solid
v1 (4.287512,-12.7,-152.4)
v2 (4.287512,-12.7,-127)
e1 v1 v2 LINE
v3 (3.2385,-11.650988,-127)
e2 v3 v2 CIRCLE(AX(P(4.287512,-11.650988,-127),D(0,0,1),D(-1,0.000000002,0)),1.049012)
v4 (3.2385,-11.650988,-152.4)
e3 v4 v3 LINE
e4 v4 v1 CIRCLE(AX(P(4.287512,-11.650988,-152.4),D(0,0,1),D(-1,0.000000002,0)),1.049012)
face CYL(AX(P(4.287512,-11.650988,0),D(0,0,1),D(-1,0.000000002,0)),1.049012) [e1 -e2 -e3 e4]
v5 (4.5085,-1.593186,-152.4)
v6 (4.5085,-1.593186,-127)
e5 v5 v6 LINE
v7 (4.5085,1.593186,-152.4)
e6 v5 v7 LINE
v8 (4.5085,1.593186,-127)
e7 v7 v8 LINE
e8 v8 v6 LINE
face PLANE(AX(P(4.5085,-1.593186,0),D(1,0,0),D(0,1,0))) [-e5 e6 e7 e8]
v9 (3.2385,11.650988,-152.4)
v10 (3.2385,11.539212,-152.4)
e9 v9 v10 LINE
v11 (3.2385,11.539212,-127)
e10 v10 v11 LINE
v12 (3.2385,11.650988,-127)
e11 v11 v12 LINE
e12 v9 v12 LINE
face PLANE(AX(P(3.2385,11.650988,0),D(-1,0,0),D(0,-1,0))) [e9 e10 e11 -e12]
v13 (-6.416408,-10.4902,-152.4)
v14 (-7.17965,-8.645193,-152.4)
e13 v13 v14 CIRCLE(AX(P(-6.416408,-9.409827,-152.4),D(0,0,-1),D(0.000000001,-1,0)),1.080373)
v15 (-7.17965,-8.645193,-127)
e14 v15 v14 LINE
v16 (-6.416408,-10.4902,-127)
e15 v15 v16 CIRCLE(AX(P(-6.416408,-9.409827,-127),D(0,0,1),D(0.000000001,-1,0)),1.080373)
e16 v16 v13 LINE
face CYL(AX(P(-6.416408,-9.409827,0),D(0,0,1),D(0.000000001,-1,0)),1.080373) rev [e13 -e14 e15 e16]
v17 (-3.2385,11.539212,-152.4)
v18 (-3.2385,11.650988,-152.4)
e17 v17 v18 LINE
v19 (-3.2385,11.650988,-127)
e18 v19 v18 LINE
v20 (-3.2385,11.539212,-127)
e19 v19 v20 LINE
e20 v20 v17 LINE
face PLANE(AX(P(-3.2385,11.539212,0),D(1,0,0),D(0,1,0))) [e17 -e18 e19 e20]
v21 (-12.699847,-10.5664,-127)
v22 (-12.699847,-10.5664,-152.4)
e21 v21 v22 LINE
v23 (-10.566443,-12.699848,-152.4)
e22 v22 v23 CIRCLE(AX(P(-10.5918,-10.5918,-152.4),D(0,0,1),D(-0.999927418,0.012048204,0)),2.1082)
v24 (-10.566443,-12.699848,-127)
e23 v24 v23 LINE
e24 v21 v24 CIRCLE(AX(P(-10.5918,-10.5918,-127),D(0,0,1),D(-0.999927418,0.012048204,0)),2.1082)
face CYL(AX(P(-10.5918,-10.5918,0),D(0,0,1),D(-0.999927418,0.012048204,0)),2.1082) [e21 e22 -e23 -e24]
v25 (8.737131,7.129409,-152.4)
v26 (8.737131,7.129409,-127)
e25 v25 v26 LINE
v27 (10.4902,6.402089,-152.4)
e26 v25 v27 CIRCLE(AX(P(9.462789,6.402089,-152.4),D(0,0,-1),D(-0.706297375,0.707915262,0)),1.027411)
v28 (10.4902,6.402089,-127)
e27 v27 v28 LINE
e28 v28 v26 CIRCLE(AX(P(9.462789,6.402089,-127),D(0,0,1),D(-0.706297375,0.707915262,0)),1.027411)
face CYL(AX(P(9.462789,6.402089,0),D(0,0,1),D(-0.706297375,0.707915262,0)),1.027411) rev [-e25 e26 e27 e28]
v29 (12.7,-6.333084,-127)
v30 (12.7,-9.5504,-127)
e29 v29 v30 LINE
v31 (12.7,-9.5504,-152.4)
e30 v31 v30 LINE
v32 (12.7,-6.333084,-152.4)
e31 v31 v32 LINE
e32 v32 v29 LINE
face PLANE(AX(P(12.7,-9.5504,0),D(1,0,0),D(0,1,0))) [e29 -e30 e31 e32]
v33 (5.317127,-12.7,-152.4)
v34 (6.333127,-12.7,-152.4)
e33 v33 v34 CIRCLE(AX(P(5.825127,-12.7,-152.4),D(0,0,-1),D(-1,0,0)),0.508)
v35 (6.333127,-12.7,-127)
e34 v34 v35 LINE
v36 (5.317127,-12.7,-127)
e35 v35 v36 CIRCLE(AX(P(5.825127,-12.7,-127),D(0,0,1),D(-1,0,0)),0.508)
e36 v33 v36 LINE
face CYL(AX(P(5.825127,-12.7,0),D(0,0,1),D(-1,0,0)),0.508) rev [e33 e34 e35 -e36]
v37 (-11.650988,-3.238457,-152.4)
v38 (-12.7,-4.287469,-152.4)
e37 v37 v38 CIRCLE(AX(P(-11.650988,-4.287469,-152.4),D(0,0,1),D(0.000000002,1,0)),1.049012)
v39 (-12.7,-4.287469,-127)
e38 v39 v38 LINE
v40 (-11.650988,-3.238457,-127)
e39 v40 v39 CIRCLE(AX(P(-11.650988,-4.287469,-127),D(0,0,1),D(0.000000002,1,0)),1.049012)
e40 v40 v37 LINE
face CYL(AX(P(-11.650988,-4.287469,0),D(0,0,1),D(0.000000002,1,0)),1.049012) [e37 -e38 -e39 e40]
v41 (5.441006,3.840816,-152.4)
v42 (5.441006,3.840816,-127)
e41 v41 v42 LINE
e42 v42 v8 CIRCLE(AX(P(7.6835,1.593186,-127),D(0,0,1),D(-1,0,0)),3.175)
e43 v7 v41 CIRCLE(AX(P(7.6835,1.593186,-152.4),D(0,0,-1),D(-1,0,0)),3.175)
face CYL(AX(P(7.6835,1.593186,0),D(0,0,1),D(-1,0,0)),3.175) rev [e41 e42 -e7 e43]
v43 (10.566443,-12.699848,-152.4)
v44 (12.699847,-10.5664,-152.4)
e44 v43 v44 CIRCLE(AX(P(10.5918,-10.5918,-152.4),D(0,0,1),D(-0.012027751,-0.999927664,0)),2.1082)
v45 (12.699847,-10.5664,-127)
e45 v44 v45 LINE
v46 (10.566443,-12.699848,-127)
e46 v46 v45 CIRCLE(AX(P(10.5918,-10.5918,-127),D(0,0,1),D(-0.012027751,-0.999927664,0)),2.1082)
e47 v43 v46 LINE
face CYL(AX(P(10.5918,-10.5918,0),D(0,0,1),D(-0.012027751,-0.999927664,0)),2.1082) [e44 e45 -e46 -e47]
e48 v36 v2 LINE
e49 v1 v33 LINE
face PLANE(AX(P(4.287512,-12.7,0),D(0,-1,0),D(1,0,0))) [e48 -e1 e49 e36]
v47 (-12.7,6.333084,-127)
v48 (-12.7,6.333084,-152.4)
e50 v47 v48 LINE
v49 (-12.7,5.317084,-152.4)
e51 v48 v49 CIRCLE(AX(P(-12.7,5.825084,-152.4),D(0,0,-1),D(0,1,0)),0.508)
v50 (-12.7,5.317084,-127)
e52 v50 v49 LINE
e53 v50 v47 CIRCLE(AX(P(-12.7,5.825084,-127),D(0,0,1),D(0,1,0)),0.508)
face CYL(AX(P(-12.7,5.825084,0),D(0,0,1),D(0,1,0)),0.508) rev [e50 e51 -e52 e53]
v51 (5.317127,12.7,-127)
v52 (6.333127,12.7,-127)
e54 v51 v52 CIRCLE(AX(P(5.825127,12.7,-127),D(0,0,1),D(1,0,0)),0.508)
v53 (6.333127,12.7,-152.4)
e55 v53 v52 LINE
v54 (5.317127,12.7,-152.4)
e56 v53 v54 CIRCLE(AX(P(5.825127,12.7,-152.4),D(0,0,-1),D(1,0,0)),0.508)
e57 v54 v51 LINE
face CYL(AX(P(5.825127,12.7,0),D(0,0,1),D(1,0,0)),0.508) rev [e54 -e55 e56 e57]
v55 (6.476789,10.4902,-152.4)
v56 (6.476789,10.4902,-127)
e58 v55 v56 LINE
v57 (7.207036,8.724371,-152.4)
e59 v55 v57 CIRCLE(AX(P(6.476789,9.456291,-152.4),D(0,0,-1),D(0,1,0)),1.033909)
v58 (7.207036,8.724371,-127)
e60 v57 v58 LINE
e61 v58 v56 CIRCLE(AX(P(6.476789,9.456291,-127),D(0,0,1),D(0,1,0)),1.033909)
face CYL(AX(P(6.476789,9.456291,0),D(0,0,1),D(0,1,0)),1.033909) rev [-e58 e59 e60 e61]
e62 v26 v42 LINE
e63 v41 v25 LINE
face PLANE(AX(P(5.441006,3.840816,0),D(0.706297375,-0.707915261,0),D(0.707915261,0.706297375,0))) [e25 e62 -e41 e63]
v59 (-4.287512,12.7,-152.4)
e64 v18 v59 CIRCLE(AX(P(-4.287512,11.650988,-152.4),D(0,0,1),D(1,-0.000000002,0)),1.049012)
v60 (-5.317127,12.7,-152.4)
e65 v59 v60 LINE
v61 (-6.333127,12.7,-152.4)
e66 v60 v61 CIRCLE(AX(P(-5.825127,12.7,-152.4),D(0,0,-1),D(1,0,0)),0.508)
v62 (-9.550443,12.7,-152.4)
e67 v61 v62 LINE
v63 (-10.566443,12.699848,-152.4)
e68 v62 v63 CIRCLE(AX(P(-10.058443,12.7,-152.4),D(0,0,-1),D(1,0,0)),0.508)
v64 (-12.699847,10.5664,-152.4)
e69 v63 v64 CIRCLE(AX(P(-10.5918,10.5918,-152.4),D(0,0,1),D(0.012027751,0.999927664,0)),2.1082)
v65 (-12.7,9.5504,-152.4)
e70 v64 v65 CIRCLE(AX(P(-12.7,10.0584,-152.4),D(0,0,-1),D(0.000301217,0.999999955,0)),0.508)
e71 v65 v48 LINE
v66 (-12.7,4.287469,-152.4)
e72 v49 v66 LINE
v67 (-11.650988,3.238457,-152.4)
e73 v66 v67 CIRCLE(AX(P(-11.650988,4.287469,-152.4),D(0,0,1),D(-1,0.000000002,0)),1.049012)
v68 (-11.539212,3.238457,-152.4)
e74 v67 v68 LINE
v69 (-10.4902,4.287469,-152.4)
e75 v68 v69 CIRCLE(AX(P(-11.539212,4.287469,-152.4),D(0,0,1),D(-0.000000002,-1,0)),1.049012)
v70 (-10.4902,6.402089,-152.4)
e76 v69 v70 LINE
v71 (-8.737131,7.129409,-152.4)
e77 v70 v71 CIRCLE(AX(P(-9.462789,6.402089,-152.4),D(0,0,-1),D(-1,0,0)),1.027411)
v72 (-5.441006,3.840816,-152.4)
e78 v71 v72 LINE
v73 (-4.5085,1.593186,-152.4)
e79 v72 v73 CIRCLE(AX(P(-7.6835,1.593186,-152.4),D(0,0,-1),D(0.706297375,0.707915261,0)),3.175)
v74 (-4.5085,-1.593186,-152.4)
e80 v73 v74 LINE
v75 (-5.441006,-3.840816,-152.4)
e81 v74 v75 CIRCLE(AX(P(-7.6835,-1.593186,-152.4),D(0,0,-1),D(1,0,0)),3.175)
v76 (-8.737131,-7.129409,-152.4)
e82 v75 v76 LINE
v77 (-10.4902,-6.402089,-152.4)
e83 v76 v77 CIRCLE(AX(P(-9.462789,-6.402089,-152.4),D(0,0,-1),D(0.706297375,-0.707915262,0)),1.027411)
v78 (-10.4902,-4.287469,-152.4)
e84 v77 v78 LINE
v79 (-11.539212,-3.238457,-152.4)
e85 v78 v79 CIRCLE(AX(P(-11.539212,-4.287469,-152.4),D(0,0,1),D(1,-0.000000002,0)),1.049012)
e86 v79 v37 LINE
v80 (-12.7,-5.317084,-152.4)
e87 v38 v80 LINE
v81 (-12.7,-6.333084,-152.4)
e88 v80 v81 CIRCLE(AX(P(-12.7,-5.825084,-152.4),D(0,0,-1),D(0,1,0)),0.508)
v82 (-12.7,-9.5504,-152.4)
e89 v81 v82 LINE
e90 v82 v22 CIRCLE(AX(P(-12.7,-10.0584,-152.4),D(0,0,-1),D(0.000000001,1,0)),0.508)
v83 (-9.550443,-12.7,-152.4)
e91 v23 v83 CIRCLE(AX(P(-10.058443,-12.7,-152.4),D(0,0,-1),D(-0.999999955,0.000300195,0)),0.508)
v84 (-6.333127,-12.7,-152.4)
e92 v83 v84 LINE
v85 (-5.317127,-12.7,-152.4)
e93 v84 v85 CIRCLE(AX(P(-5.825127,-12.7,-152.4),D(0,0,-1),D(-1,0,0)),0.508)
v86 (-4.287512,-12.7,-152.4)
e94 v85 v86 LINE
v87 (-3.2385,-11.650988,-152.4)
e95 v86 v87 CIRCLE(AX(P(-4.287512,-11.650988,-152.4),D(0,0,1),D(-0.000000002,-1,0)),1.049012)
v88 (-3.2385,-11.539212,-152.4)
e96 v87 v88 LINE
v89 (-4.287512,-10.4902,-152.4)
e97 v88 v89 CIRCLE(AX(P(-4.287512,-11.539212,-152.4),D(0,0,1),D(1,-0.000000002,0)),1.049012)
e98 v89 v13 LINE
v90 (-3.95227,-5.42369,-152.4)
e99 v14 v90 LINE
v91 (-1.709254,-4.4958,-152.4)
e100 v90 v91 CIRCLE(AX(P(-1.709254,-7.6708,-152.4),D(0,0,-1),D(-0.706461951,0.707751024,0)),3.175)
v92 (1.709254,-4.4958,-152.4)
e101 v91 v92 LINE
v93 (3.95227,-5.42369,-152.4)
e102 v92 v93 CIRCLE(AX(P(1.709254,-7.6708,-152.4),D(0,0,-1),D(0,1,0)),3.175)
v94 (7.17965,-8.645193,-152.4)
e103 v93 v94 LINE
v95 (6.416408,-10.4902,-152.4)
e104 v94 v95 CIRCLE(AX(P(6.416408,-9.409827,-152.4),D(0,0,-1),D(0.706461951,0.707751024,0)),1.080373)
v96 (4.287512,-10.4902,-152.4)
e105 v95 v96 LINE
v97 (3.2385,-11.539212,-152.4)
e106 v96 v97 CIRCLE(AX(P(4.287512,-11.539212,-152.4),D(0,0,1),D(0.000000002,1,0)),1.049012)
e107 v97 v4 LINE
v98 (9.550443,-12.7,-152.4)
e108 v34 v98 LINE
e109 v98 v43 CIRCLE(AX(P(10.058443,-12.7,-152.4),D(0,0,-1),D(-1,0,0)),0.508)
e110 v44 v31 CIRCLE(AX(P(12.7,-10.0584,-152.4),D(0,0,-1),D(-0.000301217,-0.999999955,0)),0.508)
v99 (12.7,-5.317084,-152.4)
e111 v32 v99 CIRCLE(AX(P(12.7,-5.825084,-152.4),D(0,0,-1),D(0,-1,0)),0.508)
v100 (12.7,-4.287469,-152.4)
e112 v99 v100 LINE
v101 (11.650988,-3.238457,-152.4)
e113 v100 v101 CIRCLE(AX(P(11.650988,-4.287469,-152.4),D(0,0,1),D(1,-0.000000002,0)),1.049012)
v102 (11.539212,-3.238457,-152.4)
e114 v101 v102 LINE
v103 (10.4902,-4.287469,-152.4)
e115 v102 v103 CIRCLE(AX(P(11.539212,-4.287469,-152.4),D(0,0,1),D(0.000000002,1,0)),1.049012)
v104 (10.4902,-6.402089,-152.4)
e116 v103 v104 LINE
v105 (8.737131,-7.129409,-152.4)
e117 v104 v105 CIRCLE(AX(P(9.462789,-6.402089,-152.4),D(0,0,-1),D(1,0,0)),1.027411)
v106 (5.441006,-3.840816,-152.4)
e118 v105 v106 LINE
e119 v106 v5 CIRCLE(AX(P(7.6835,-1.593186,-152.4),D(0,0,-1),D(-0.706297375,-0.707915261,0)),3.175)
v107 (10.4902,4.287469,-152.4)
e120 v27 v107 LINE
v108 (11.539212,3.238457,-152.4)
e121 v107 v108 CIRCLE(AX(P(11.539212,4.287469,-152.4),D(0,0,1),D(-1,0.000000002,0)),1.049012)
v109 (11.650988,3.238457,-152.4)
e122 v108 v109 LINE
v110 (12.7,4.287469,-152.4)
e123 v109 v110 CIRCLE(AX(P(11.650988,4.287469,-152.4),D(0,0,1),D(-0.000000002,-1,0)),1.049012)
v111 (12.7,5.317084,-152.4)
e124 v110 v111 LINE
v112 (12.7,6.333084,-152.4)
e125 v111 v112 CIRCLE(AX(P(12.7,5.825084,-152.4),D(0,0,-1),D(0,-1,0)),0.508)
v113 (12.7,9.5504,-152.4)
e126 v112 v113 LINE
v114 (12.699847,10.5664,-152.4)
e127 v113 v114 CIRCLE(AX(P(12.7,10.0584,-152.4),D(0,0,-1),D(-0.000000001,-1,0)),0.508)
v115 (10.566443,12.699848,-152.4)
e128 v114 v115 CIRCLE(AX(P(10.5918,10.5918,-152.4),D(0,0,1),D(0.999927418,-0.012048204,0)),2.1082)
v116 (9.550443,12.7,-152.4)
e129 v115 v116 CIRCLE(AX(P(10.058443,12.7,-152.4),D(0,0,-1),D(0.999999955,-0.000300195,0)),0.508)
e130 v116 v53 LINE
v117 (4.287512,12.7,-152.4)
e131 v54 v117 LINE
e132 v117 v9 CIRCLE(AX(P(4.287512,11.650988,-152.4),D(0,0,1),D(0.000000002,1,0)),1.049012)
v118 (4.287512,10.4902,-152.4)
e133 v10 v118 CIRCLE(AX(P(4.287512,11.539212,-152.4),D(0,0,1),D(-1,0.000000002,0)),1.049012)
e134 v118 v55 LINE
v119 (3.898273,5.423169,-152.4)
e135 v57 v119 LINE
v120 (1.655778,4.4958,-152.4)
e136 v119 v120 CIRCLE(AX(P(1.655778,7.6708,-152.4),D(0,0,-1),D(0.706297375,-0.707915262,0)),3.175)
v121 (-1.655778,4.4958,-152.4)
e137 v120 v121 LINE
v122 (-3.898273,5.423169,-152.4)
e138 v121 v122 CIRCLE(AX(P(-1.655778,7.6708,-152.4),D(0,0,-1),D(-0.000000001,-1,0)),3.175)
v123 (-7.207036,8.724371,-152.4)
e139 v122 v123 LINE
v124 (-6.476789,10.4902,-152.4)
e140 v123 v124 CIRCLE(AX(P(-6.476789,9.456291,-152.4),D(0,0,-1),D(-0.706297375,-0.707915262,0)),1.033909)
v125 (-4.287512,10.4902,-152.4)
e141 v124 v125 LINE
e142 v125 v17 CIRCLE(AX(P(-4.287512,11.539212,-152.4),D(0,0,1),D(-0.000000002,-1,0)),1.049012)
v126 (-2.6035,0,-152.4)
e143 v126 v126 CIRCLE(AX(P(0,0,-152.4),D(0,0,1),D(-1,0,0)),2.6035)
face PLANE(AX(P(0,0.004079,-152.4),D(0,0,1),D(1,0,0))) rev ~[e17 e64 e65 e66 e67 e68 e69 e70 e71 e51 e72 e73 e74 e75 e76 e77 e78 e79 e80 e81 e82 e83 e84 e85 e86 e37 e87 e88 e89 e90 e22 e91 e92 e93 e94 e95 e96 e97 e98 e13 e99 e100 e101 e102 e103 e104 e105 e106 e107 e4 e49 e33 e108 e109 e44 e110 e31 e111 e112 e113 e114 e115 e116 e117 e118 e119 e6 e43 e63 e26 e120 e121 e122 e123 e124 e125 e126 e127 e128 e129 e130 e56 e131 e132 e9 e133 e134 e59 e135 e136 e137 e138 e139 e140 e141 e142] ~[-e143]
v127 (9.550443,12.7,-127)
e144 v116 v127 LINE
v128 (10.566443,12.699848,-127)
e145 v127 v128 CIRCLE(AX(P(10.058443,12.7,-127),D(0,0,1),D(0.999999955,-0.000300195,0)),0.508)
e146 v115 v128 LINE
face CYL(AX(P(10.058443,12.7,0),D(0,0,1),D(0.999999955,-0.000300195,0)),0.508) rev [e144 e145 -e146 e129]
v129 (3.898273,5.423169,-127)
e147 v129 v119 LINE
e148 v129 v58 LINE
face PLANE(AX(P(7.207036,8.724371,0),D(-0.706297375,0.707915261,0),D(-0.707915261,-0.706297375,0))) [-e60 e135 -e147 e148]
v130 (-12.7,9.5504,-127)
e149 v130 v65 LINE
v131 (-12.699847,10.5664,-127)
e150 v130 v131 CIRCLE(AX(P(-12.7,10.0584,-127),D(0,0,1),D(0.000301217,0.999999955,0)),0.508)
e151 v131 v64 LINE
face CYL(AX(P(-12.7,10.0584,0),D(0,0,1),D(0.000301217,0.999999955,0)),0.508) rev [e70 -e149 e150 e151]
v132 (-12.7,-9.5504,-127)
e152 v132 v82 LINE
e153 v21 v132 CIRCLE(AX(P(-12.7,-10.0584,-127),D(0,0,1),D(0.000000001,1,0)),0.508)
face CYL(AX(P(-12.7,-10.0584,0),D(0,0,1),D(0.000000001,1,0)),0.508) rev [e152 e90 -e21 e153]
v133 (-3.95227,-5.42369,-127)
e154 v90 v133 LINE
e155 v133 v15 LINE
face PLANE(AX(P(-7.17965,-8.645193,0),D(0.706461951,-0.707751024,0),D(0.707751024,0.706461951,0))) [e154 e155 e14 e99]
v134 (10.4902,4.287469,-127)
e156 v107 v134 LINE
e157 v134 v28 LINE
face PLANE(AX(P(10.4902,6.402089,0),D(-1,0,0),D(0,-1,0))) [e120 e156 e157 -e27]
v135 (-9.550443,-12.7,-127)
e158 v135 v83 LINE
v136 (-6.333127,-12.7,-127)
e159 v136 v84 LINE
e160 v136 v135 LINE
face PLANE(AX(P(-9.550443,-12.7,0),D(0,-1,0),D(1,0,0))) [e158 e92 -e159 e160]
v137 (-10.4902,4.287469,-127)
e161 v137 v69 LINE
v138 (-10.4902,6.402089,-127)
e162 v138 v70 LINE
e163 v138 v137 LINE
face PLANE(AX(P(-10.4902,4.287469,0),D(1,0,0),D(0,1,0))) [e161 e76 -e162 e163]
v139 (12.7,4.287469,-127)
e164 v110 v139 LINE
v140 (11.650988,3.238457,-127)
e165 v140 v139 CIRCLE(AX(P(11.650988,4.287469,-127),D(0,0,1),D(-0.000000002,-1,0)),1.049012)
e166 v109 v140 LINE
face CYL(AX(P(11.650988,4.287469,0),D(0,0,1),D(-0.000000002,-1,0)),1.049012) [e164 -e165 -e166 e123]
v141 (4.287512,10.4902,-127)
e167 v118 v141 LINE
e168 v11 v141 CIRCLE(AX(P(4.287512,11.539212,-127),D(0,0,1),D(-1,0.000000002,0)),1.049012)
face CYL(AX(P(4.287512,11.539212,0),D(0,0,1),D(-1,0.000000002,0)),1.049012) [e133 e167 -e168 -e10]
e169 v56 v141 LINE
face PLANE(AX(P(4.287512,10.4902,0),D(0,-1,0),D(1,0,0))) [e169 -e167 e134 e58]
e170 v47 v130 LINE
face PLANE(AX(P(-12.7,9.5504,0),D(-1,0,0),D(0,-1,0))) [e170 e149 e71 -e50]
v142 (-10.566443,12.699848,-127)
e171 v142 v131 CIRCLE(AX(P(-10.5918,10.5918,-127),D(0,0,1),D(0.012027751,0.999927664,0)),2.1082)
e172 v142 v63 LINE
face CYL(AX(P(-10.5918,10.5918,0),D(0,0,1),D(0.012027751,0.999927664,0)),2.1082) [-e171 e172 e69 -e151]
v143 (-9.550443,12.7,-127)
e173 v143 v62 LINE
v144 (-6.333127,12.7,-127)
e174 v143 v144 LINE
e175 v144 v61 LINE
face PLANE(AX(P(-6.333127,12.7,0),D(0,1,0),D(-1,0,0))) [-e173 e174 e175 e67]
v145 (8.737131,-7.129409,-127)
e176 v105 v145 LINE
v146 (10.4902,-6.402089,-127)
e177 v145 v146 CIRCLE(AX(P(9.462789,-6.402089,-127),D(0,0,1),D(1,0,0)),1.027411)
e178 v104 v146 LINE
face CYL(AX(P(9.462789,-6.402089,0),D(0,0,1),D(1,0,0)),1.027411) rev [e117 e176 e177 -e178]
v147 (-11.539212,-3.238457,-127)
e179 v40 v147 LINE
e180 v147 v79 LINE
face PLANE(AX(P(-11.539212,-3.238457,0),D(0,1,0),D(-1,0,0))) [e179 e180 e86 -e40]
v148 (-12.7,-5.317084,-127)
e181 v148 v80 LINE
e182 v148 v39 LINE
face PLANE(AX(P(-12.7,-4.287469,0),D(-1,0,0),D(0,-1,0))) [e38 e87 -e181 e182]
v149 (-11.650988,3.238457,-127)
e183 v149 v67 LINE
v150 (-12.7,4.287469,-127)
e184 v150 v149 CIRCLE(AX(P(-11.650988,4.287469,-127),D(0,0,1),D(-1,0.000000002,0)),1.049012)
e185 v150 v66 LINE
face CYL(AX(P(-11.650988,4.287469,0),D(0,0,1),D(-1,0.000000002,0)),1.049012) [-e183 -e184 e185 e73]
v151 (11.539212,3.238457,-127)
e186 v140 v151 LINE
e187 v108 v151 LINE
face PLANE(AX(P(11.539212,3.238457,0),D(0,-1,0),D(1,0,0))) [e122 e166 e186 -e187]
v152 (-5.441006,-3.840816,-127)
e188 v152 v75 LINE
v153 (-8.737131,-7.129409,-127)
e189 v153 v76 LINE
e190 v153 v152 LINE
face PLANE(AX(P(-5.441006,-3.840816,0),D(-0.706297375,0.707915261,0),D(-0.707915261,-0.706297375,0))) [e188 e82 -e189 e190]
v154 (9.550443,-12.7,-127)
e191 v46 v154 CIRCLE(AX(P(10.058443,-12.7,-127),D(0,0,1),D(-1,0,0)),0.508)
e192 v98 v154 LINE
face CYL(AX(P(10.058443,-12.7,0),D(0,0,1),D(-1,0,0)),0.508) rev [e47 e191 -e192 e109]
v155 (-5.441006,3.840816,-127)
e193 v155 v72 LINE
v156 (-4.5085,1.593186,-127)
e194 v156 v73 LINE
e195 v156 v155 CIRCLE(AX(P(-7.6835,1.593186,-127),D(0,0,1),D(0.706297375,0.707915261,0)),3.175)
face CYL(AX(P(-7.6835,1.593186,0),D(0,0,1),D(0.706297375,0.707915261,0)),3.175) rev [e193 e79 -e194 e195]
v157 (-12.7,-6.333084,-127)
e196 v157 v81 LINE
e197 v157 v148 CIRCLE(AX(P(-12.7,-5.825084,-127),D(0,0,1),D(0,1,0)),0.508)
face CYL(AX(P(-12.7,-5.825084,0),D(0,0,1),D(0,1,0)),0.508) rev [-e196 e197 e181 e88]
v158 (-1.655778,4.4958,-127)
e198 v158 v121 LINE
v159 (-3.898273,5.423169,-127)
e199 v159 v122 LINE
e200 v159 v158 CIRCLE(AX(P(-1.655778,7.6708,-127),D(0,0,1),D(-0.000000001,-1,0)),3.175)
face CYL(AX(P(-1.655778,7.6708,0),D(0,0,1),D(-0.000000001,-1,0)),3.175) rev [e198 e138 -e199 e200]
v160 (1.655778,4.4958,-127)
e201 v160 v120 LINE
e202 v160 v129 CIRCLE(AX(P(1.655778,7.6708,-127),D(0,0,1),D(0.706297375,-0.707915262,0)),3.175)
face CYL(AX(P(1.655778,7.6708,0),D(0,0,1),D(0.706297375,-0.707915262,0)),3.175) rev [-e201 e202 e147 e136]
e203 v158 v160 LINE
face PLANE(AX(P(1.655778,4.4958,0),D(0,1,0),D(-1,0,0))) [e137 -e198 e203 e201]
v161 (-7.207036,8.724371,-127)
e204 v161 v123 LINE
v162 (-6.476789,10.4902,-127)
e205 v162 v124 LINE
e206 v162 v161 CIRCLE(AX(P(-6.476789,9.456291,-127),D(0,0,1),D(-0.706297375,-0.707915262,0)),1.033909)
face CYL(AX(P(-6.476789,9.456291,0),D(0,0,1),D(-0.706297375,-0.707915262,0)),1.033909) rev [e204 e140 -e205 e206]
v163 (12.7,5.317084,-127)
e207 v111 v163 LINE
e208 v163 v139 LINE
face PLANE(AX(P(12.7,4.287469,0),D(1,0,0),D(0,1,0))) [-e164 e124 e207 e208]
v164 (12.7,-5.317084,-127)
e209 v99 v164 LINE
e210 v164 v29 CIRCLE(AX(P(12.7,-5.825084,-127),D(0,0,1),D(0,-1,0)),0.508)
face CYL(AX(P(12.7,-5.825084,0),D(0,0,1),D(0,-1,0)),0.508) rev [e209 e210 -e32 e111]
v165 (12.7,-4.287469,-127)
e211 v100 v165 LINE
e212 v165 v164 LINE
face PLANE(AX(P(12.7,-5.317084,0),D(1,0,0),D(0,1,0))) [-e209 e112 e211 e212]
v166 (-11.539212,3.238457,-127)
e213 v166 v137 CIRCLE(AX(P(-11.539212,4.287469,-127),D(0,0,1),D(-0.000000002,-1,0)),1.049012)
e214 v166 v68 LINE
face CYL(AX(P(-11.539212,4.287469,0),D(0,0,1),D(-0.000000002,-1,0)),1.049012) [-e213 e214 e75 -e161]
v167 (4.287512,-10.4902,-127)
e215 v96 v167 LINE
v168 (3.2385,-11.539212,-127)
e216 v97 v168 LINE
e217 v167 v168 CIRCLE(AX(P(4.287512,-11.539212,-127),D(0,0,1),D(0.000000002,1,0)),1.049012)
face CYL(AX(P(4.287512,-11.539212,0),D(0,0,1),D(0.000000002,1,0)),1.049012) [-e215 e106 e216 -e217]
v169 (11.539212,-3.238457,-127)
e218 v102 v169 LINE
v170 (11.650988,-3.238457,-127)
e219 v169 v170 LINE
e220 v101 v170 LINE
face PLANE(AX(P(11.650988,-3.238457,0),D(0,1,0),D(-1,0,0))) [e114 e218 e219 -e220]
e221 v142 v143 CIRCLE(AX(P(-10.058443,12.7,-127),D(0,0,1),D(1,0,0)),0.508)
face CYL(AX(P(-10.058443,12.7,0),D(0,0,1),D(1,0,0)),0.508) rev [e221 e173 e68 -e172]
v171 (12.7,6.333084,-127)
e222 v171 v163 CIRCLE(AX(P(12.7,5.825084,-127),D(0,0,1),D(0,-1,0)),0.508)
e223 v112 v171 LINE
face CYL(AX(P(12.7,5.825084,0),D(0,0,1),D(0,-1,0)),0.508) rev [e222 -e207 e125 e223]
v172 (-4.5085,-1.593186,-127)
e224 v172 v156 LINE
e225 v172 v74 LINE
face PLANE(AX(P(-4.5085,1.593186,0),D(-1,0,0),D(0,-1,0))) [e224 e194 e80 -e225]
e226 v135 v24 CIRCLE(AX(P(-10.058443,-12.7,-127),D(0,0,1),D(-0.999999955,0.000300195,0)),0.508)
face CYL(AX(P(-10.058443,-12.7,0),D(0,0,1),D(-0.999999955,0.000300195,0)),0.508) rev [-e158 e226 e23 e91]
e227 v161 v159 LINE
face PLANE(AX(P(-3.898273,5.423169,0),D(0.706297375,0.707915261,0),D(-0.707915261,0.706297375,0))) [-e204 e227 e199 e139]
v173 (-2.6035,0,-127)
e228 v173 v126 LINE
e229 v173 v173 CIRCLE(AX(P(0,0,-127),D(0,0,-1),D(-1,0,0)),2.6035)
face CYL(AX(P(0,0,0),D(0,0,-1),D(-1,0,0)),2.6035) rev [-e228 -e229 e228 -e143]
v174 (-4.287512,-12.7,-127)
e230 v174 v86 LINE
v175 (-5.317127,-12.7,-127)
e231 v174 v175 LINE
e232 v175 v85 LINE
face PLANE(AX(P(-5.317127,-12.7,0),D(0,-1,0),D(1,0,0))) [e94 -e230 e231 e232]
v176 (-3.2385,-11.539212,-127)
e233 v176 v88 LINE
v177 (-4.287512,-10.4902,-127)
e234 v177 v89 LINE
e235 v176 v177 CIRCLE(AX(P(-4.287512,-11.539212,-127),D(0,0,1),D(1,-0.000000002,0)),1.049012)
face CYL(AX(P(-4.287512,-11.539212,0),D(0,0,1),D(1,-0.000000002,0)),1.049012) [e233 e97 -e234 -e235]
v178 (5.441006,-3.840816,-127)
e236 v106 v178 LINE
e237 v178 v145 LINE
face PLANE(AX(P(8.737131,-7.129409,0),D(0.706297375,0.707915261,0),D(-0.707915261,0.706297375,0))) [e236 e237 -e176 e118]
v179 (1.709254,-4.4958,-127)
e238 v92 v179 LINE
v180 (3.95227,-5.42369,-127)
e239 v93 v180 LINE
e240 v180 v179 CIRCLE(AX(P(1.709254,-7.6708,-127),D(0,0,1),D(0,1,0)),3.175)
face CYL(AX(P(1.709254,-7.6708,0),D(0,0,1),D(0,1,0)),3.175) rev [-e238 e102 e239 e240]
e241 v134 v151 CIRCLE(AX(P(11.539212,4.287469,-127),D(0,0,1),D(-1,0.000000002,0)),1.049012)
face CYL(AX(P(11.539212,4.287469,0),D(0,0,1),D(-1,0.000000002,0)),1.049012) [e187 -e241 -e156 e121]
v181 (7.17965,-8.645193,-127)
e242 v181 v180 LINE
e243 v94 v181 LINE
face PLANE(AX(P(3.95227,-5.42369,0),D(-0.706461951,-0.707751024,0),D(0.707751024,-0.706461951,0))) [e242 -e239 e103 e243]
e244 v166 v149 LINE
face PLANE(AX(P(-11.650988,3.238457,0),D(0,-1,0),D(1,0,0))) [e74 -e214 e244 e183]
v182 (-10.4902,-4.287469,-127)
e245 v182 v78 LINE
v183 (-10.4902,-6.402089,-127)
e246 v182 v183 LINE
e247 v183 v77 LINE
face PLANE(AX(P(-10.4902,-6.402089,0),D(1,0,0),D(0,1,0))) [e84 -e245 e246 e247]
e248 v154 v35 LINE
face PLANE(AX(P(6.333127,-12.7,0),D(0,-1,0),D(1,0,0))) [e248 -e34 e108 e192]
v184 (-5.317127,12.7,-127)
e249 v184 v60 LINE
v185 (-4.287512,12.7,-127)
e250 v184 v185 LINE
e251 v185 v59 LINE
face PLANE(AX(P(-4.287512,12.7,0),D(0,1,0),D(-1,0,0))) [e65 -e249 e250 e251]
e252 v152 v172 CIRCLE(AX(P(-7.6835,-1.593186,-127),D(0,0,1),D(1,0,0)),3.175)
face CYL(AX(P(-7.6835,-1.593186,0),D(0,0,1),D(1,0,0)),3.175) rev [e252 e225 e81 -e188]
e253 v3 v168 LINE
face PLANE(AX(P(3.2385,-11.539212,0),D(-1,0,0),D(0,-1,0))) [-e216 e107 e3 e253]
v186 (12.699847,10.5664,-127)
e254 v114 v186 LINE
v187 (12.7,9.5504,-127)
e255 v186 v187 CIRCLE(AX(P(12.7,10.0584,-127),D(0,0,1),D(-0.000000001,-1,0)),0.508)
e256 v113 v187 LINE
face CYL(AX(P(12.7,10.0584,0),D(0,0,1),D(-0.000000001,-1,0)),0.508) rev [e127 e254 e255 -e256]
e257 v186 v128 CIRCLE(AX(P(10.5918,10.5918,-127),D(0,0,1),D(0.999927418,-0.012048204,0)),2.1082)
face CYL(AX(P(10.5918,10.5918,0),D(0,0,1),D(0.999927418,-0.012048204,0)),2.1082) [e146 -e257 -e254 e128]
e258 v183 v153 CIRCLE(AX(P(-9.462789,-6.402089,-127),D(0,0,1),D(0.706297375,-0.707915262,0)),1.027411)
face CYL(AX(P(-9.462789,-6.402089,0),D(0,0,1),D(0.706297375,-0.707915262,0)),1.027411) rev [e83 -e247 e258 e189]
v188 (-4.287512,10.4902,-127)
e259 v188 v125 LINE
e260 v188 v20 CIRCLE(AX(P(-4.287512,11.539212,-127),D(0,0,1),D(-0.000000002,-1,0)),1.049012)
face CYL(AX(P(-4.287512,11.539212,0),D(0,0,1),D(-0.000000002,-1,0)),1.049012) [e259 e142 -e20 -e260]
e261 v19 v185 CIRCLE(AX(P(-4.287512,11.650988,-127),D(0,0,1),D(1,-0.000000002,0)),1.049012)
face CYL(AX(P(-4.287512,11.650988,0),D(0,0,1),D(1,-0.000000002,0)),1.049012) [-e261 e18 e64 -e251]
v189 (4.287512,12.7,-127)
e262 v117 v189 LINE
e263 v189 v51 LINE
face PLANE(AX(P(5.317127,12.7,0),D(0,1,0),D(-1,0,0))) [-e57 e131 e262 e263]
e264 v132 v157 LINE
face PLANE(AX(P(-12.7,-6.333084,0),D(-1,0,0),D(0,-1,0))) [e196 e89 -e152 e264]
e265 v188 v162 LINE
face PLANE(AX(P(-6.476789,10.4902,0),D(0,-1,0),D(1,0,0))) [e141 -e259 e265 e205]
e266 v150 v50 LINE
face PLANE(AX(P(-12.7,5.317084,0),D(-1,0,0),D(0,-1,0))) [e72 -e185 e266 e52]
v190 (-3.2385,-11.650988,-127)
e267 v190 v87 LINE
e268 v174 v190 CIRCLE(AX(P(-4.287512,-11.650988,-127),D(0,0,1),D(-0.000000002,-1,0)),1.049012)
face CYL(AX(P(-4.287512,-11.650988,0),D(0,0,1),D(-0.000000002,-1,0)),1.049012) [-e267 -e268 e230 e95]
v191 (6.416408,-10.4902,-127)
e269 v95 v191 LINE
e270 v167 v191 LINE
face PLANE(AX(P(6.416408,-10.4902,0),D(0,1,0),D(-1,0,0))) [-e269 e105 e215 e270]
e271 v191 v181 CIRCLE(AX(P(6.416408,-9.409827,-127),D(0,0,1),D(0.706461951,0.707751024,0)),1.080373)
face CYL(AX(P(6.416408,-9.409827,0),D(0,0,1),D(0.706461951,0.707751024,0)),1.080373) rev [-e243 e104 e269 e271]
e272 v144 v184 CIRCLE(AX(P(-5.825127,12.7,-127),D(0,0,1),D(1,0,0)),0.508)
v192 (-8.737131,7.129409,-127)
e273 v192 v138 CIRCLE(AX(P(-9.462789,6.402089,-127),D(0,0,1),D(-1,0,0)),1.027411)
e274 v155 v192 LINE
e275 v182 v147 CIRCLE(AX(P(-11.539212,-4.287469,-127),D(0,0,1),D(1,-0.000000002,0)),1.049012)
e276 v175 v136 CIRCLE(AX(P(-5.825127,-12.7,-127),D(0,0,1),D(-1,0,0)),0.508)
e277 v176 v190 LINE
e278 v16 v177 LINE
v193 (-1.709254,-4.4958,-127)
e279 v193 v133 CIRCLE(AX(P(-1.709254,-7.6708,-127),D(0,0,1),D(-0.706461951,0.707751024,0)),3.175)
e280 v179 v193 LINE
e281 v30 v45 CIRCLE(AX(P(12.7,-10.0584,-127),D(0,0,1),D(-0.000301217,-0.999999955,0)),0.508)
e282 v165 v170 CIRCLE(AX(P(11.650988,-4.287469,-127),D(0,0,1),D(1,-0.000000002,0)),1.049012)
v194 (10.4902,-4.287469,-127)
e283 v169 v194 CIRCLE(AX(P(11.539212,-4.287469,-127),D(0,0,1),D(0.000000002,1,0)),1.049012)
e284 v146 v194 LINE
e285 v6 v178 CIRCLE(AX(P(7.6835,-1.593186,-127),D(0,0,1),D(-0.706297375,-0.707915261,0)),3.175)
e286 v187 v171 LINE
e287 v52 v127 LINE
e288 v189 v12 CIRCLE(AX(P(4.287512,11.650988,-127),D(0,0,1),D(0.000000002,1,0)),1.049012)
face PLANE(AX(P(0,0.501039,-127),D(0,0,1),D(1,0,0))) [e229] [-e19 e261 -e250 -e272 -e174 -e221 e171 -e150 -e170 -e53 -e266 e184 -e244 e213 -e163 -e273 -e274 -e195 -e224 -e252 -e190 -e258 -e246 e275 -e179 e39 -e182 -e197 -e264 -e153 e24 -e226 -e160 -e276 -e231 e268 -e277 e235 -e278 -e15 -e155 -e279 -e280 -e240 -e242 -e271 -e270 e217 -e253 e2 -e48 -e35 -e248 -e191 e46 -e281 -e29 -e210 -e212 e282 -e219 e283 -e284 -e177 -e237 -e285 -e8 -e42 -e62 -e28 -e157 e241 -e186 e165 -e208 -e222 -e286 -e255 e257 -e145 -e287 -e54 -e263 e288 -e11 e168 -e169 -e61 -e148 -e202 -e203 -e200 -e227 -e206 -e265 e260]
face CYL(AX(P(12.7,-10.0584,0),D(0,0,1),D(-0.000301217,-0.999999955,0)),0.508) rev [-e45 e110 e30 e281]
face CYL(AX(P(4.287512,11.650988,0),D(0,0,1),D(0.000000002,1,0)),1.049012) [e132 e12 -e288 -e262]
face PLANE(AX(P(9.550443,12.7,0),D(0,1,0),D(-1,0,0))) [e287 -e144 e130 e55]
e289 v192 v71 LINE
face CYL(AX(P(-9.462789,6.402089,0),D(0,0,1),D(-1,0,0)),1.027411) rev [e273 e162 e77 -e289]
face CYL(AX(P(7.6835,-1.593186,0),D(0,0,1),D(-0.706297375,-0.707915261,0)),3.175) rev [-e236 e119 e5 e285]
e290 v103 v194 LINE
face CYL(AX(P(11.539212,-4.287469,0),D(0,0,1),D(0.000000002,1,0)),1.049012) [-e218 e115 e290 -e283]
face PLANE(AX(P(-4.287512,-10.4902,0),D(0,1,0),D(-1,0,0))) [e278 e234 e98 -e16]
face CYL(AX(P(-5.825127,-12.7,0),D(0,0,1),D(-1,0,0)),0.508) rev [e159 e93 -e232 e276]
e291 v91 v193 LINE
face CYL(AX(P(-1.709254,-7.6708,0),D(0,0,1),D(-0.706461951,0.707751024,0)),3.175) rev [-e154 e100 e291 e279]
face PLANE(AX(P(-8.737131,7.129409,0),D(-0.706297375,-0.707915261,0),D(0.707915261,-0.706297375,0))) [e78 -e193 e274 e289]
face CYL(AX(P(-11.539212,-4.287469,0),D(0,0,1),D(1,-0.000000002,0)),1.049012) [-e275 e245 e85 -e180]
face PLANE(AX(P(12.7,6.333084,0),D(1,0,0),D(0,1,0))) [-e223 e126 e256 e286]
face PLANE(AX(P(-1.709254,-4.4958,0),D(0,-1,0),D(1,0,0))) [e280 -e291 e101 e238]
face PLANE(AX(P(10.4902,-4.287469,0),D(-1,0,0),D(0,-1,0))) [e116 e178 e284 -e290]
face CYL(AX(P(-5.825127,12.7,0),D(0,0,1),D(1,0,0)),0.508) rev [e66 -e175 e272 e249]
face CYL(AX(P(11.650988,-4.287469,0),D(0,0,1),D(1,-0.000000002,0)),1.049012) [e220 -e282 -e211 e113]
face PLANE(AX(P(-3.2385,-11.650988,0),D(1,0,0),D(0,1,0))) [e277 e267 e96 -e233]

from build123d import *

# Parameters (mm, degrees)
SKETCH1_R           = 2.6035
BOSS_EXTRUDE1_DEPTH = 152.4
SKETCH2_W           = 27.7498742
SKETCH2_H           = 28.906118958
CUT_EXTRUDE1_DEPTH  = 279.4


with BuildPart() as part:
    # Sketch1 → Boss-Extrude1 (new, symmetric)
    with BuildSketch(Plane.XY):
        with BuildLine():
            Line((-7.179650497, -8.645192506), (-3.952270251, -5.423690499))
            ThreePointArc((-3.952270251, -5.423690499), (-2.922936451, -4.736929036), (-1.709253557, -4.4958))
            Line((-1.709253557, -4.4958), (1.709253557, -4.4958))
            ThreePointArc((1.709253557, -4.4958), (2.922936451, -4.736929036), (3.952270251, -5.423690499))
            Line((3.952270251, -5.423690499), (7.179650497, -8.645192506))
            ThreePointArc((7.179650497, -8.645192506), (7.41473083, -9.822813117), (6.416408329, -10.4902))
            Line((6.416408329, -10.4902), (4.287512407, -10.4902))
            ThreePointArc((4.287512407, -10.4902), (3.54574862, -10.79744862), (3.2385, -11.539212407))
            Line((3.2385, -11.539212407), (3.2385, -11.650987593))
            ThreePointArc((3.2385, -11.650987593), (3.54574862, -12.39275138), (4.287512407, -12.7))
            Line((4.287512407, -12.7), (5.317126718, -12.7))
            ThreePointArc((5.317126718, -12.7), (5.825126718, -12.192), (6.333126718, -12.7))
            Line((6.333126718, -12.7), (9.550443118, -12.7))
            ThreePointArc((9.550443118, -12.7), (10.058366869, -12.192000006), (10.566443095, -12.699847501))
            ThreePointArc((10.566443095, -12.699847501), (12.082537762, -12.08250727), (12.699846982, -10.566399977))
            ThreePointArc((12.699846982, -10.566399977), (12.192000006, -10.058323491), (12.7, -9.5504))
            Line((12.7, -9.5504), (12.7, -6.3330836))
            ThreePointArc((12.7, -6.3330836), (12.192, -5.8250836), (12.7, -5.3170836))
            Line((12.7, -5.3170836), (12.7, -4.287469289))
            ThreePointArc((12.7, -4.287469289), (12.39275138, -3.545705502), (11.650987593, -3.238456882))
            Line((11.650987593, -3.238456882), (11.539212407, -3.238456882))
            ThreePointArc((11.539212407, -3.238456882), (10.79744862, -3.545705502), (10.4902, -4.287469289))
            Line((10.4902, -4.287469289), (10.4902, -6.402089023))
            ThreePointArc((10.4902, -6.402089023), (9.856505071, -7.351067942), (8.737131347, -7.129408934))
            Line((8.737131347, -7.129408934), (5.441005833, -3.840816462))
            ThreePointArc((5.441005833, -3.840816462), (4.750877967, -2.809883091), (4.5085, -1.593185507))
            Line((4.5085, -1.593185507), (4.5085, 1.593185507))
            ThreePointArc((4.5085, 1.593185507), (4.750877967, 2.809883091), (5.441005833, 3.840816462))
            Line((5.441005833, 3.840816462), (8.737131347, 7.129408934))
            ThreePointArc((8.737131347, 7.129408934), (9.856505071, 7.351067942), (10.4902, 6.402089023))
            Line((10.4902, 6.402089023), (10.4902, 4.287469289))
            ThreePointArc((10.4902, 4.287469289), (10.79744862, 3.545705502), (11.539212407, 3.238456882))
            Line((11.539212407, 3.238456882), (11.650987593, 3.238456882))
            ThreePointArc((11.650987593, 3.238456882), (12.39275138, 3.545705502), (12.7, 4.287469289))
            Line((12.7, 4.287469289), (12.7, 5.3170836))
            ThreePointArc((12.7, 5.3170836), (12.192, 5.8250836), (12.7, 6.3330836))
            Line((12.7, 6.3330836), (12.7, 9.5504))
            ThreePointArc((12.7, 9.5504), (12.192000006, 10.058323491), (12.699846982, 10.566399977))
            ThreePointArc((12.699846982, 10.566399977), (12.082537762, 12.08250727), (10.566443095, 12.699847501))
            ThreePointArc((10.566443095, 12.699847501), (10.058366869, 12.192000006), (9.550443118, 12.7))
            Line((9.550443118, 12.7), (6.333126718, 12.7))
            ThreePointArc((6.333126718, 12.7), (5.825126718, 12.192), (5.317126718, 12.7))
            Line((5.317126718, 12.7), (4.287512407, 12.7))
            ThreePointArc((4.287512407, 12.7), (3.54574862, 12.39275138), (3.2385, 11.650987593))
            Line((3.2385, 11.650987593), (3.2385, 11.539212407))
            ThreePointArc((3.2385, 11.539212407), (3.54574862, 10.79744862), (4.287512407, 10.4902))
            Line((4.287512407, 10.4902), (6.476788598, 10.4902))
            ThreePointArc((6.476788598, 10.4902), (7.432222385, 9.85140422), (7.207036008, 8.724370562))
            Line((7.207036008, 8.724370562), (3.898272566, 5.423169045))
            ThreePointArc((3.898272566, 5.423169045), (2.869120213, 4.736787962), (1.655778399, 4.4958))
            Line((1.655778399, 4.4958), (-1.655778399, 4.4958))
            ThreePointArc((-1.655778399, 4.4958), (-2.869120213, 4.736787962), (-3.898272566, 5.423169045))
            Line((-3.898272566, 5.423169045), (-7.207036008, 8.724370562))
            ThreePointArc((-7.207036008, 8.724370562), (-7.432222385, 9.85140422), (-6.476788598, 10.4902))
            Line((-6.476788598, 10.4902), (-4.287512407, 10.4902))
            ThreePointArc((-4.287512407, 10.4902), (-3.54574862, 10.79744862), (-3.2385, 11.539212407))
            Line((-3.2385, 11.539212407), (-3.2385, 11.650987593))
            ThreePointArc((-3.2385, 11.650987593), (-3.54574862, 12.39275138), (-4.287512407, 12.7))
            Line((-4.287512407, 12.7), (-5.317126718, 12.7))
            ThreePointArc((-5.317126718, 12.7), (-5.825126718, 12.192), (-6.333126718, 12.7))
            Line((-6.333126718, 12.7), (-9.550443118, 12.7))
            ThreePointArc((-9.550443118, 12.7), (-10.058366869, 12.192000006), (-10.566443095, 12.699847501))
            ThreePointArc((-10.566443095, 12.699847501), (-12.082537762, 12.08250727), (-12.699846982, 10.566399977))
            ThreePointArc((-12.699846982, 10.566399977), (-12.192000006, 10.058323491), (-12.7, 9.5504))
            Line((-12.7, 9.5504), (-12.7, 6.3330836))
            ThreePointArc((-12.7, 6.3330836), (-12.192, 5.8250836), (-12.7, 5.3170836))
            Line((-12.7, 5.3170836), (-12.7, 4.287469289))
            ThreePointArc((-12.7, 4.287469289), (-12.39275138, 3.545705502), (-11.650987593, 3.238456882))
            Line((-11.650987593, 3.238456882), (-11.539212407, 3.238456882))
            ThreePointArc((-11.539212407, 3.238456882), (-10.79744862, 3.545705502), (-10.4902, 4.287469289))
            Line((-10.4902, 4.287469289), (-10.4902, 6.402089023))
            ThreePointArc((-10.4902, 6.402089023), (-9.856505071, 7.351067942), (-8.737131347, 7.129408934))
            Line((-8.737131347, 7.129408934), (-5.441005833, 3.840816462))
            ThreePointArc((-5.441005833, 3.840816462), (-4.750877967, 2.809883091), (-4.5085, 1.593185507))
            Line((-4.5085, 1.593185507), (-4.5085, -1.593185507))
            ThreePointArc((-4.5085, -1.593185507), (-4.750877967, -2.809883091), (-5.441005833, -3.840816462))
            Line((-5.441005833, -3.840816462), (-8.737131347, -7.129408934))
            ThreePointArc((-8.737131347, -7.129408934), (-9.856505071, -7.351067942), (-10.4902, -6.402089023))
            Line((-10.4902, -6.402089023), (-10.4902, -4.287469289))
            ThreePointArc((-10.4902, -4.287469289), (-10.79744862, -3.545705502), (-11.539212407, -3.238456882))
            Line((-11.539212407, -3.238456882), (-11.650987593, -3.238456882))
            ThreePointArc((-11.650987593, -3.238456882), (-12.39275138, -3.545705502), (-12.7, -4.287469289))
            Line((-12.7, -4.287469289), (-12.7, -5.3170836))
            ThreePointArc((-12.7, -5.3170836), (-12.192, -5.8250836), (-12.7, -6.3330836))
            Line((-12.7, -6.3330836), (-12.7, -9.5504))
            ThreePointArc((-12.7, -9.5504), (-12.192000006, -10.058323491), (-12.699846982, -10.566399977))
            ThreePointArc((-12.699846982, -10.566399977), (-12.082537762, -12.08250727), (-10.566443095, -12.699847501))
            ThreePointArc((-10.566443095, -12.699847501), (-10.058366869, -12.192000006), (-9.550443118, -12.7))
            Line((-9.550443118, -12.7), (-6.333126718, -12.7))
            ThreePointArc((-6.333126718, -12.7), (-5.825126718, -12.192), (-5.317126718, -12.7))
            Line((-5.317126718, -12.7), (-4.287512407, -12.7))
            ThreePointArc((-4.287512407, -12.7), (-3.54574862, -12.39275138), (-3.2385, -11.650987593))
            Line((-3.2385, -11.650987593), (-3.2385, -11.539212407))
            ThreePointArc((-3.2385, -11.539212407), (-3.54574862, -10.79744862), (-4.287512407, -10.4902))
            Line((-4.287512407, -10.4902), (-6.416408329, -10.4902))
            ThreePointArc((-6.416408329, -10.4902), (-7.41473083, -9.822813117), (-7.179650497, -8.645192506))
        make_face()
        with Locations(Location((0, 0, 0), (0, 0, 180))):
            Circle(SKETCH1_R, mode=Mode.SUBTRACT)
    extrude(amount=BOSS_EXTRUDE1_DEPTH, both=True)

    # Sketch2 → Cut-Extrude1 (cut)
    with BuildSketch(Plane.XY.offset(152.4)):
        with Locations((0, 0.501039395)):
            Rectangle(SKETCH2_W, SKETCH2_H)
    extrude(amount=-CUT_EXTRUDE1_DEPTH, mode=Mode.SUBTRACT)


solid = part.part
